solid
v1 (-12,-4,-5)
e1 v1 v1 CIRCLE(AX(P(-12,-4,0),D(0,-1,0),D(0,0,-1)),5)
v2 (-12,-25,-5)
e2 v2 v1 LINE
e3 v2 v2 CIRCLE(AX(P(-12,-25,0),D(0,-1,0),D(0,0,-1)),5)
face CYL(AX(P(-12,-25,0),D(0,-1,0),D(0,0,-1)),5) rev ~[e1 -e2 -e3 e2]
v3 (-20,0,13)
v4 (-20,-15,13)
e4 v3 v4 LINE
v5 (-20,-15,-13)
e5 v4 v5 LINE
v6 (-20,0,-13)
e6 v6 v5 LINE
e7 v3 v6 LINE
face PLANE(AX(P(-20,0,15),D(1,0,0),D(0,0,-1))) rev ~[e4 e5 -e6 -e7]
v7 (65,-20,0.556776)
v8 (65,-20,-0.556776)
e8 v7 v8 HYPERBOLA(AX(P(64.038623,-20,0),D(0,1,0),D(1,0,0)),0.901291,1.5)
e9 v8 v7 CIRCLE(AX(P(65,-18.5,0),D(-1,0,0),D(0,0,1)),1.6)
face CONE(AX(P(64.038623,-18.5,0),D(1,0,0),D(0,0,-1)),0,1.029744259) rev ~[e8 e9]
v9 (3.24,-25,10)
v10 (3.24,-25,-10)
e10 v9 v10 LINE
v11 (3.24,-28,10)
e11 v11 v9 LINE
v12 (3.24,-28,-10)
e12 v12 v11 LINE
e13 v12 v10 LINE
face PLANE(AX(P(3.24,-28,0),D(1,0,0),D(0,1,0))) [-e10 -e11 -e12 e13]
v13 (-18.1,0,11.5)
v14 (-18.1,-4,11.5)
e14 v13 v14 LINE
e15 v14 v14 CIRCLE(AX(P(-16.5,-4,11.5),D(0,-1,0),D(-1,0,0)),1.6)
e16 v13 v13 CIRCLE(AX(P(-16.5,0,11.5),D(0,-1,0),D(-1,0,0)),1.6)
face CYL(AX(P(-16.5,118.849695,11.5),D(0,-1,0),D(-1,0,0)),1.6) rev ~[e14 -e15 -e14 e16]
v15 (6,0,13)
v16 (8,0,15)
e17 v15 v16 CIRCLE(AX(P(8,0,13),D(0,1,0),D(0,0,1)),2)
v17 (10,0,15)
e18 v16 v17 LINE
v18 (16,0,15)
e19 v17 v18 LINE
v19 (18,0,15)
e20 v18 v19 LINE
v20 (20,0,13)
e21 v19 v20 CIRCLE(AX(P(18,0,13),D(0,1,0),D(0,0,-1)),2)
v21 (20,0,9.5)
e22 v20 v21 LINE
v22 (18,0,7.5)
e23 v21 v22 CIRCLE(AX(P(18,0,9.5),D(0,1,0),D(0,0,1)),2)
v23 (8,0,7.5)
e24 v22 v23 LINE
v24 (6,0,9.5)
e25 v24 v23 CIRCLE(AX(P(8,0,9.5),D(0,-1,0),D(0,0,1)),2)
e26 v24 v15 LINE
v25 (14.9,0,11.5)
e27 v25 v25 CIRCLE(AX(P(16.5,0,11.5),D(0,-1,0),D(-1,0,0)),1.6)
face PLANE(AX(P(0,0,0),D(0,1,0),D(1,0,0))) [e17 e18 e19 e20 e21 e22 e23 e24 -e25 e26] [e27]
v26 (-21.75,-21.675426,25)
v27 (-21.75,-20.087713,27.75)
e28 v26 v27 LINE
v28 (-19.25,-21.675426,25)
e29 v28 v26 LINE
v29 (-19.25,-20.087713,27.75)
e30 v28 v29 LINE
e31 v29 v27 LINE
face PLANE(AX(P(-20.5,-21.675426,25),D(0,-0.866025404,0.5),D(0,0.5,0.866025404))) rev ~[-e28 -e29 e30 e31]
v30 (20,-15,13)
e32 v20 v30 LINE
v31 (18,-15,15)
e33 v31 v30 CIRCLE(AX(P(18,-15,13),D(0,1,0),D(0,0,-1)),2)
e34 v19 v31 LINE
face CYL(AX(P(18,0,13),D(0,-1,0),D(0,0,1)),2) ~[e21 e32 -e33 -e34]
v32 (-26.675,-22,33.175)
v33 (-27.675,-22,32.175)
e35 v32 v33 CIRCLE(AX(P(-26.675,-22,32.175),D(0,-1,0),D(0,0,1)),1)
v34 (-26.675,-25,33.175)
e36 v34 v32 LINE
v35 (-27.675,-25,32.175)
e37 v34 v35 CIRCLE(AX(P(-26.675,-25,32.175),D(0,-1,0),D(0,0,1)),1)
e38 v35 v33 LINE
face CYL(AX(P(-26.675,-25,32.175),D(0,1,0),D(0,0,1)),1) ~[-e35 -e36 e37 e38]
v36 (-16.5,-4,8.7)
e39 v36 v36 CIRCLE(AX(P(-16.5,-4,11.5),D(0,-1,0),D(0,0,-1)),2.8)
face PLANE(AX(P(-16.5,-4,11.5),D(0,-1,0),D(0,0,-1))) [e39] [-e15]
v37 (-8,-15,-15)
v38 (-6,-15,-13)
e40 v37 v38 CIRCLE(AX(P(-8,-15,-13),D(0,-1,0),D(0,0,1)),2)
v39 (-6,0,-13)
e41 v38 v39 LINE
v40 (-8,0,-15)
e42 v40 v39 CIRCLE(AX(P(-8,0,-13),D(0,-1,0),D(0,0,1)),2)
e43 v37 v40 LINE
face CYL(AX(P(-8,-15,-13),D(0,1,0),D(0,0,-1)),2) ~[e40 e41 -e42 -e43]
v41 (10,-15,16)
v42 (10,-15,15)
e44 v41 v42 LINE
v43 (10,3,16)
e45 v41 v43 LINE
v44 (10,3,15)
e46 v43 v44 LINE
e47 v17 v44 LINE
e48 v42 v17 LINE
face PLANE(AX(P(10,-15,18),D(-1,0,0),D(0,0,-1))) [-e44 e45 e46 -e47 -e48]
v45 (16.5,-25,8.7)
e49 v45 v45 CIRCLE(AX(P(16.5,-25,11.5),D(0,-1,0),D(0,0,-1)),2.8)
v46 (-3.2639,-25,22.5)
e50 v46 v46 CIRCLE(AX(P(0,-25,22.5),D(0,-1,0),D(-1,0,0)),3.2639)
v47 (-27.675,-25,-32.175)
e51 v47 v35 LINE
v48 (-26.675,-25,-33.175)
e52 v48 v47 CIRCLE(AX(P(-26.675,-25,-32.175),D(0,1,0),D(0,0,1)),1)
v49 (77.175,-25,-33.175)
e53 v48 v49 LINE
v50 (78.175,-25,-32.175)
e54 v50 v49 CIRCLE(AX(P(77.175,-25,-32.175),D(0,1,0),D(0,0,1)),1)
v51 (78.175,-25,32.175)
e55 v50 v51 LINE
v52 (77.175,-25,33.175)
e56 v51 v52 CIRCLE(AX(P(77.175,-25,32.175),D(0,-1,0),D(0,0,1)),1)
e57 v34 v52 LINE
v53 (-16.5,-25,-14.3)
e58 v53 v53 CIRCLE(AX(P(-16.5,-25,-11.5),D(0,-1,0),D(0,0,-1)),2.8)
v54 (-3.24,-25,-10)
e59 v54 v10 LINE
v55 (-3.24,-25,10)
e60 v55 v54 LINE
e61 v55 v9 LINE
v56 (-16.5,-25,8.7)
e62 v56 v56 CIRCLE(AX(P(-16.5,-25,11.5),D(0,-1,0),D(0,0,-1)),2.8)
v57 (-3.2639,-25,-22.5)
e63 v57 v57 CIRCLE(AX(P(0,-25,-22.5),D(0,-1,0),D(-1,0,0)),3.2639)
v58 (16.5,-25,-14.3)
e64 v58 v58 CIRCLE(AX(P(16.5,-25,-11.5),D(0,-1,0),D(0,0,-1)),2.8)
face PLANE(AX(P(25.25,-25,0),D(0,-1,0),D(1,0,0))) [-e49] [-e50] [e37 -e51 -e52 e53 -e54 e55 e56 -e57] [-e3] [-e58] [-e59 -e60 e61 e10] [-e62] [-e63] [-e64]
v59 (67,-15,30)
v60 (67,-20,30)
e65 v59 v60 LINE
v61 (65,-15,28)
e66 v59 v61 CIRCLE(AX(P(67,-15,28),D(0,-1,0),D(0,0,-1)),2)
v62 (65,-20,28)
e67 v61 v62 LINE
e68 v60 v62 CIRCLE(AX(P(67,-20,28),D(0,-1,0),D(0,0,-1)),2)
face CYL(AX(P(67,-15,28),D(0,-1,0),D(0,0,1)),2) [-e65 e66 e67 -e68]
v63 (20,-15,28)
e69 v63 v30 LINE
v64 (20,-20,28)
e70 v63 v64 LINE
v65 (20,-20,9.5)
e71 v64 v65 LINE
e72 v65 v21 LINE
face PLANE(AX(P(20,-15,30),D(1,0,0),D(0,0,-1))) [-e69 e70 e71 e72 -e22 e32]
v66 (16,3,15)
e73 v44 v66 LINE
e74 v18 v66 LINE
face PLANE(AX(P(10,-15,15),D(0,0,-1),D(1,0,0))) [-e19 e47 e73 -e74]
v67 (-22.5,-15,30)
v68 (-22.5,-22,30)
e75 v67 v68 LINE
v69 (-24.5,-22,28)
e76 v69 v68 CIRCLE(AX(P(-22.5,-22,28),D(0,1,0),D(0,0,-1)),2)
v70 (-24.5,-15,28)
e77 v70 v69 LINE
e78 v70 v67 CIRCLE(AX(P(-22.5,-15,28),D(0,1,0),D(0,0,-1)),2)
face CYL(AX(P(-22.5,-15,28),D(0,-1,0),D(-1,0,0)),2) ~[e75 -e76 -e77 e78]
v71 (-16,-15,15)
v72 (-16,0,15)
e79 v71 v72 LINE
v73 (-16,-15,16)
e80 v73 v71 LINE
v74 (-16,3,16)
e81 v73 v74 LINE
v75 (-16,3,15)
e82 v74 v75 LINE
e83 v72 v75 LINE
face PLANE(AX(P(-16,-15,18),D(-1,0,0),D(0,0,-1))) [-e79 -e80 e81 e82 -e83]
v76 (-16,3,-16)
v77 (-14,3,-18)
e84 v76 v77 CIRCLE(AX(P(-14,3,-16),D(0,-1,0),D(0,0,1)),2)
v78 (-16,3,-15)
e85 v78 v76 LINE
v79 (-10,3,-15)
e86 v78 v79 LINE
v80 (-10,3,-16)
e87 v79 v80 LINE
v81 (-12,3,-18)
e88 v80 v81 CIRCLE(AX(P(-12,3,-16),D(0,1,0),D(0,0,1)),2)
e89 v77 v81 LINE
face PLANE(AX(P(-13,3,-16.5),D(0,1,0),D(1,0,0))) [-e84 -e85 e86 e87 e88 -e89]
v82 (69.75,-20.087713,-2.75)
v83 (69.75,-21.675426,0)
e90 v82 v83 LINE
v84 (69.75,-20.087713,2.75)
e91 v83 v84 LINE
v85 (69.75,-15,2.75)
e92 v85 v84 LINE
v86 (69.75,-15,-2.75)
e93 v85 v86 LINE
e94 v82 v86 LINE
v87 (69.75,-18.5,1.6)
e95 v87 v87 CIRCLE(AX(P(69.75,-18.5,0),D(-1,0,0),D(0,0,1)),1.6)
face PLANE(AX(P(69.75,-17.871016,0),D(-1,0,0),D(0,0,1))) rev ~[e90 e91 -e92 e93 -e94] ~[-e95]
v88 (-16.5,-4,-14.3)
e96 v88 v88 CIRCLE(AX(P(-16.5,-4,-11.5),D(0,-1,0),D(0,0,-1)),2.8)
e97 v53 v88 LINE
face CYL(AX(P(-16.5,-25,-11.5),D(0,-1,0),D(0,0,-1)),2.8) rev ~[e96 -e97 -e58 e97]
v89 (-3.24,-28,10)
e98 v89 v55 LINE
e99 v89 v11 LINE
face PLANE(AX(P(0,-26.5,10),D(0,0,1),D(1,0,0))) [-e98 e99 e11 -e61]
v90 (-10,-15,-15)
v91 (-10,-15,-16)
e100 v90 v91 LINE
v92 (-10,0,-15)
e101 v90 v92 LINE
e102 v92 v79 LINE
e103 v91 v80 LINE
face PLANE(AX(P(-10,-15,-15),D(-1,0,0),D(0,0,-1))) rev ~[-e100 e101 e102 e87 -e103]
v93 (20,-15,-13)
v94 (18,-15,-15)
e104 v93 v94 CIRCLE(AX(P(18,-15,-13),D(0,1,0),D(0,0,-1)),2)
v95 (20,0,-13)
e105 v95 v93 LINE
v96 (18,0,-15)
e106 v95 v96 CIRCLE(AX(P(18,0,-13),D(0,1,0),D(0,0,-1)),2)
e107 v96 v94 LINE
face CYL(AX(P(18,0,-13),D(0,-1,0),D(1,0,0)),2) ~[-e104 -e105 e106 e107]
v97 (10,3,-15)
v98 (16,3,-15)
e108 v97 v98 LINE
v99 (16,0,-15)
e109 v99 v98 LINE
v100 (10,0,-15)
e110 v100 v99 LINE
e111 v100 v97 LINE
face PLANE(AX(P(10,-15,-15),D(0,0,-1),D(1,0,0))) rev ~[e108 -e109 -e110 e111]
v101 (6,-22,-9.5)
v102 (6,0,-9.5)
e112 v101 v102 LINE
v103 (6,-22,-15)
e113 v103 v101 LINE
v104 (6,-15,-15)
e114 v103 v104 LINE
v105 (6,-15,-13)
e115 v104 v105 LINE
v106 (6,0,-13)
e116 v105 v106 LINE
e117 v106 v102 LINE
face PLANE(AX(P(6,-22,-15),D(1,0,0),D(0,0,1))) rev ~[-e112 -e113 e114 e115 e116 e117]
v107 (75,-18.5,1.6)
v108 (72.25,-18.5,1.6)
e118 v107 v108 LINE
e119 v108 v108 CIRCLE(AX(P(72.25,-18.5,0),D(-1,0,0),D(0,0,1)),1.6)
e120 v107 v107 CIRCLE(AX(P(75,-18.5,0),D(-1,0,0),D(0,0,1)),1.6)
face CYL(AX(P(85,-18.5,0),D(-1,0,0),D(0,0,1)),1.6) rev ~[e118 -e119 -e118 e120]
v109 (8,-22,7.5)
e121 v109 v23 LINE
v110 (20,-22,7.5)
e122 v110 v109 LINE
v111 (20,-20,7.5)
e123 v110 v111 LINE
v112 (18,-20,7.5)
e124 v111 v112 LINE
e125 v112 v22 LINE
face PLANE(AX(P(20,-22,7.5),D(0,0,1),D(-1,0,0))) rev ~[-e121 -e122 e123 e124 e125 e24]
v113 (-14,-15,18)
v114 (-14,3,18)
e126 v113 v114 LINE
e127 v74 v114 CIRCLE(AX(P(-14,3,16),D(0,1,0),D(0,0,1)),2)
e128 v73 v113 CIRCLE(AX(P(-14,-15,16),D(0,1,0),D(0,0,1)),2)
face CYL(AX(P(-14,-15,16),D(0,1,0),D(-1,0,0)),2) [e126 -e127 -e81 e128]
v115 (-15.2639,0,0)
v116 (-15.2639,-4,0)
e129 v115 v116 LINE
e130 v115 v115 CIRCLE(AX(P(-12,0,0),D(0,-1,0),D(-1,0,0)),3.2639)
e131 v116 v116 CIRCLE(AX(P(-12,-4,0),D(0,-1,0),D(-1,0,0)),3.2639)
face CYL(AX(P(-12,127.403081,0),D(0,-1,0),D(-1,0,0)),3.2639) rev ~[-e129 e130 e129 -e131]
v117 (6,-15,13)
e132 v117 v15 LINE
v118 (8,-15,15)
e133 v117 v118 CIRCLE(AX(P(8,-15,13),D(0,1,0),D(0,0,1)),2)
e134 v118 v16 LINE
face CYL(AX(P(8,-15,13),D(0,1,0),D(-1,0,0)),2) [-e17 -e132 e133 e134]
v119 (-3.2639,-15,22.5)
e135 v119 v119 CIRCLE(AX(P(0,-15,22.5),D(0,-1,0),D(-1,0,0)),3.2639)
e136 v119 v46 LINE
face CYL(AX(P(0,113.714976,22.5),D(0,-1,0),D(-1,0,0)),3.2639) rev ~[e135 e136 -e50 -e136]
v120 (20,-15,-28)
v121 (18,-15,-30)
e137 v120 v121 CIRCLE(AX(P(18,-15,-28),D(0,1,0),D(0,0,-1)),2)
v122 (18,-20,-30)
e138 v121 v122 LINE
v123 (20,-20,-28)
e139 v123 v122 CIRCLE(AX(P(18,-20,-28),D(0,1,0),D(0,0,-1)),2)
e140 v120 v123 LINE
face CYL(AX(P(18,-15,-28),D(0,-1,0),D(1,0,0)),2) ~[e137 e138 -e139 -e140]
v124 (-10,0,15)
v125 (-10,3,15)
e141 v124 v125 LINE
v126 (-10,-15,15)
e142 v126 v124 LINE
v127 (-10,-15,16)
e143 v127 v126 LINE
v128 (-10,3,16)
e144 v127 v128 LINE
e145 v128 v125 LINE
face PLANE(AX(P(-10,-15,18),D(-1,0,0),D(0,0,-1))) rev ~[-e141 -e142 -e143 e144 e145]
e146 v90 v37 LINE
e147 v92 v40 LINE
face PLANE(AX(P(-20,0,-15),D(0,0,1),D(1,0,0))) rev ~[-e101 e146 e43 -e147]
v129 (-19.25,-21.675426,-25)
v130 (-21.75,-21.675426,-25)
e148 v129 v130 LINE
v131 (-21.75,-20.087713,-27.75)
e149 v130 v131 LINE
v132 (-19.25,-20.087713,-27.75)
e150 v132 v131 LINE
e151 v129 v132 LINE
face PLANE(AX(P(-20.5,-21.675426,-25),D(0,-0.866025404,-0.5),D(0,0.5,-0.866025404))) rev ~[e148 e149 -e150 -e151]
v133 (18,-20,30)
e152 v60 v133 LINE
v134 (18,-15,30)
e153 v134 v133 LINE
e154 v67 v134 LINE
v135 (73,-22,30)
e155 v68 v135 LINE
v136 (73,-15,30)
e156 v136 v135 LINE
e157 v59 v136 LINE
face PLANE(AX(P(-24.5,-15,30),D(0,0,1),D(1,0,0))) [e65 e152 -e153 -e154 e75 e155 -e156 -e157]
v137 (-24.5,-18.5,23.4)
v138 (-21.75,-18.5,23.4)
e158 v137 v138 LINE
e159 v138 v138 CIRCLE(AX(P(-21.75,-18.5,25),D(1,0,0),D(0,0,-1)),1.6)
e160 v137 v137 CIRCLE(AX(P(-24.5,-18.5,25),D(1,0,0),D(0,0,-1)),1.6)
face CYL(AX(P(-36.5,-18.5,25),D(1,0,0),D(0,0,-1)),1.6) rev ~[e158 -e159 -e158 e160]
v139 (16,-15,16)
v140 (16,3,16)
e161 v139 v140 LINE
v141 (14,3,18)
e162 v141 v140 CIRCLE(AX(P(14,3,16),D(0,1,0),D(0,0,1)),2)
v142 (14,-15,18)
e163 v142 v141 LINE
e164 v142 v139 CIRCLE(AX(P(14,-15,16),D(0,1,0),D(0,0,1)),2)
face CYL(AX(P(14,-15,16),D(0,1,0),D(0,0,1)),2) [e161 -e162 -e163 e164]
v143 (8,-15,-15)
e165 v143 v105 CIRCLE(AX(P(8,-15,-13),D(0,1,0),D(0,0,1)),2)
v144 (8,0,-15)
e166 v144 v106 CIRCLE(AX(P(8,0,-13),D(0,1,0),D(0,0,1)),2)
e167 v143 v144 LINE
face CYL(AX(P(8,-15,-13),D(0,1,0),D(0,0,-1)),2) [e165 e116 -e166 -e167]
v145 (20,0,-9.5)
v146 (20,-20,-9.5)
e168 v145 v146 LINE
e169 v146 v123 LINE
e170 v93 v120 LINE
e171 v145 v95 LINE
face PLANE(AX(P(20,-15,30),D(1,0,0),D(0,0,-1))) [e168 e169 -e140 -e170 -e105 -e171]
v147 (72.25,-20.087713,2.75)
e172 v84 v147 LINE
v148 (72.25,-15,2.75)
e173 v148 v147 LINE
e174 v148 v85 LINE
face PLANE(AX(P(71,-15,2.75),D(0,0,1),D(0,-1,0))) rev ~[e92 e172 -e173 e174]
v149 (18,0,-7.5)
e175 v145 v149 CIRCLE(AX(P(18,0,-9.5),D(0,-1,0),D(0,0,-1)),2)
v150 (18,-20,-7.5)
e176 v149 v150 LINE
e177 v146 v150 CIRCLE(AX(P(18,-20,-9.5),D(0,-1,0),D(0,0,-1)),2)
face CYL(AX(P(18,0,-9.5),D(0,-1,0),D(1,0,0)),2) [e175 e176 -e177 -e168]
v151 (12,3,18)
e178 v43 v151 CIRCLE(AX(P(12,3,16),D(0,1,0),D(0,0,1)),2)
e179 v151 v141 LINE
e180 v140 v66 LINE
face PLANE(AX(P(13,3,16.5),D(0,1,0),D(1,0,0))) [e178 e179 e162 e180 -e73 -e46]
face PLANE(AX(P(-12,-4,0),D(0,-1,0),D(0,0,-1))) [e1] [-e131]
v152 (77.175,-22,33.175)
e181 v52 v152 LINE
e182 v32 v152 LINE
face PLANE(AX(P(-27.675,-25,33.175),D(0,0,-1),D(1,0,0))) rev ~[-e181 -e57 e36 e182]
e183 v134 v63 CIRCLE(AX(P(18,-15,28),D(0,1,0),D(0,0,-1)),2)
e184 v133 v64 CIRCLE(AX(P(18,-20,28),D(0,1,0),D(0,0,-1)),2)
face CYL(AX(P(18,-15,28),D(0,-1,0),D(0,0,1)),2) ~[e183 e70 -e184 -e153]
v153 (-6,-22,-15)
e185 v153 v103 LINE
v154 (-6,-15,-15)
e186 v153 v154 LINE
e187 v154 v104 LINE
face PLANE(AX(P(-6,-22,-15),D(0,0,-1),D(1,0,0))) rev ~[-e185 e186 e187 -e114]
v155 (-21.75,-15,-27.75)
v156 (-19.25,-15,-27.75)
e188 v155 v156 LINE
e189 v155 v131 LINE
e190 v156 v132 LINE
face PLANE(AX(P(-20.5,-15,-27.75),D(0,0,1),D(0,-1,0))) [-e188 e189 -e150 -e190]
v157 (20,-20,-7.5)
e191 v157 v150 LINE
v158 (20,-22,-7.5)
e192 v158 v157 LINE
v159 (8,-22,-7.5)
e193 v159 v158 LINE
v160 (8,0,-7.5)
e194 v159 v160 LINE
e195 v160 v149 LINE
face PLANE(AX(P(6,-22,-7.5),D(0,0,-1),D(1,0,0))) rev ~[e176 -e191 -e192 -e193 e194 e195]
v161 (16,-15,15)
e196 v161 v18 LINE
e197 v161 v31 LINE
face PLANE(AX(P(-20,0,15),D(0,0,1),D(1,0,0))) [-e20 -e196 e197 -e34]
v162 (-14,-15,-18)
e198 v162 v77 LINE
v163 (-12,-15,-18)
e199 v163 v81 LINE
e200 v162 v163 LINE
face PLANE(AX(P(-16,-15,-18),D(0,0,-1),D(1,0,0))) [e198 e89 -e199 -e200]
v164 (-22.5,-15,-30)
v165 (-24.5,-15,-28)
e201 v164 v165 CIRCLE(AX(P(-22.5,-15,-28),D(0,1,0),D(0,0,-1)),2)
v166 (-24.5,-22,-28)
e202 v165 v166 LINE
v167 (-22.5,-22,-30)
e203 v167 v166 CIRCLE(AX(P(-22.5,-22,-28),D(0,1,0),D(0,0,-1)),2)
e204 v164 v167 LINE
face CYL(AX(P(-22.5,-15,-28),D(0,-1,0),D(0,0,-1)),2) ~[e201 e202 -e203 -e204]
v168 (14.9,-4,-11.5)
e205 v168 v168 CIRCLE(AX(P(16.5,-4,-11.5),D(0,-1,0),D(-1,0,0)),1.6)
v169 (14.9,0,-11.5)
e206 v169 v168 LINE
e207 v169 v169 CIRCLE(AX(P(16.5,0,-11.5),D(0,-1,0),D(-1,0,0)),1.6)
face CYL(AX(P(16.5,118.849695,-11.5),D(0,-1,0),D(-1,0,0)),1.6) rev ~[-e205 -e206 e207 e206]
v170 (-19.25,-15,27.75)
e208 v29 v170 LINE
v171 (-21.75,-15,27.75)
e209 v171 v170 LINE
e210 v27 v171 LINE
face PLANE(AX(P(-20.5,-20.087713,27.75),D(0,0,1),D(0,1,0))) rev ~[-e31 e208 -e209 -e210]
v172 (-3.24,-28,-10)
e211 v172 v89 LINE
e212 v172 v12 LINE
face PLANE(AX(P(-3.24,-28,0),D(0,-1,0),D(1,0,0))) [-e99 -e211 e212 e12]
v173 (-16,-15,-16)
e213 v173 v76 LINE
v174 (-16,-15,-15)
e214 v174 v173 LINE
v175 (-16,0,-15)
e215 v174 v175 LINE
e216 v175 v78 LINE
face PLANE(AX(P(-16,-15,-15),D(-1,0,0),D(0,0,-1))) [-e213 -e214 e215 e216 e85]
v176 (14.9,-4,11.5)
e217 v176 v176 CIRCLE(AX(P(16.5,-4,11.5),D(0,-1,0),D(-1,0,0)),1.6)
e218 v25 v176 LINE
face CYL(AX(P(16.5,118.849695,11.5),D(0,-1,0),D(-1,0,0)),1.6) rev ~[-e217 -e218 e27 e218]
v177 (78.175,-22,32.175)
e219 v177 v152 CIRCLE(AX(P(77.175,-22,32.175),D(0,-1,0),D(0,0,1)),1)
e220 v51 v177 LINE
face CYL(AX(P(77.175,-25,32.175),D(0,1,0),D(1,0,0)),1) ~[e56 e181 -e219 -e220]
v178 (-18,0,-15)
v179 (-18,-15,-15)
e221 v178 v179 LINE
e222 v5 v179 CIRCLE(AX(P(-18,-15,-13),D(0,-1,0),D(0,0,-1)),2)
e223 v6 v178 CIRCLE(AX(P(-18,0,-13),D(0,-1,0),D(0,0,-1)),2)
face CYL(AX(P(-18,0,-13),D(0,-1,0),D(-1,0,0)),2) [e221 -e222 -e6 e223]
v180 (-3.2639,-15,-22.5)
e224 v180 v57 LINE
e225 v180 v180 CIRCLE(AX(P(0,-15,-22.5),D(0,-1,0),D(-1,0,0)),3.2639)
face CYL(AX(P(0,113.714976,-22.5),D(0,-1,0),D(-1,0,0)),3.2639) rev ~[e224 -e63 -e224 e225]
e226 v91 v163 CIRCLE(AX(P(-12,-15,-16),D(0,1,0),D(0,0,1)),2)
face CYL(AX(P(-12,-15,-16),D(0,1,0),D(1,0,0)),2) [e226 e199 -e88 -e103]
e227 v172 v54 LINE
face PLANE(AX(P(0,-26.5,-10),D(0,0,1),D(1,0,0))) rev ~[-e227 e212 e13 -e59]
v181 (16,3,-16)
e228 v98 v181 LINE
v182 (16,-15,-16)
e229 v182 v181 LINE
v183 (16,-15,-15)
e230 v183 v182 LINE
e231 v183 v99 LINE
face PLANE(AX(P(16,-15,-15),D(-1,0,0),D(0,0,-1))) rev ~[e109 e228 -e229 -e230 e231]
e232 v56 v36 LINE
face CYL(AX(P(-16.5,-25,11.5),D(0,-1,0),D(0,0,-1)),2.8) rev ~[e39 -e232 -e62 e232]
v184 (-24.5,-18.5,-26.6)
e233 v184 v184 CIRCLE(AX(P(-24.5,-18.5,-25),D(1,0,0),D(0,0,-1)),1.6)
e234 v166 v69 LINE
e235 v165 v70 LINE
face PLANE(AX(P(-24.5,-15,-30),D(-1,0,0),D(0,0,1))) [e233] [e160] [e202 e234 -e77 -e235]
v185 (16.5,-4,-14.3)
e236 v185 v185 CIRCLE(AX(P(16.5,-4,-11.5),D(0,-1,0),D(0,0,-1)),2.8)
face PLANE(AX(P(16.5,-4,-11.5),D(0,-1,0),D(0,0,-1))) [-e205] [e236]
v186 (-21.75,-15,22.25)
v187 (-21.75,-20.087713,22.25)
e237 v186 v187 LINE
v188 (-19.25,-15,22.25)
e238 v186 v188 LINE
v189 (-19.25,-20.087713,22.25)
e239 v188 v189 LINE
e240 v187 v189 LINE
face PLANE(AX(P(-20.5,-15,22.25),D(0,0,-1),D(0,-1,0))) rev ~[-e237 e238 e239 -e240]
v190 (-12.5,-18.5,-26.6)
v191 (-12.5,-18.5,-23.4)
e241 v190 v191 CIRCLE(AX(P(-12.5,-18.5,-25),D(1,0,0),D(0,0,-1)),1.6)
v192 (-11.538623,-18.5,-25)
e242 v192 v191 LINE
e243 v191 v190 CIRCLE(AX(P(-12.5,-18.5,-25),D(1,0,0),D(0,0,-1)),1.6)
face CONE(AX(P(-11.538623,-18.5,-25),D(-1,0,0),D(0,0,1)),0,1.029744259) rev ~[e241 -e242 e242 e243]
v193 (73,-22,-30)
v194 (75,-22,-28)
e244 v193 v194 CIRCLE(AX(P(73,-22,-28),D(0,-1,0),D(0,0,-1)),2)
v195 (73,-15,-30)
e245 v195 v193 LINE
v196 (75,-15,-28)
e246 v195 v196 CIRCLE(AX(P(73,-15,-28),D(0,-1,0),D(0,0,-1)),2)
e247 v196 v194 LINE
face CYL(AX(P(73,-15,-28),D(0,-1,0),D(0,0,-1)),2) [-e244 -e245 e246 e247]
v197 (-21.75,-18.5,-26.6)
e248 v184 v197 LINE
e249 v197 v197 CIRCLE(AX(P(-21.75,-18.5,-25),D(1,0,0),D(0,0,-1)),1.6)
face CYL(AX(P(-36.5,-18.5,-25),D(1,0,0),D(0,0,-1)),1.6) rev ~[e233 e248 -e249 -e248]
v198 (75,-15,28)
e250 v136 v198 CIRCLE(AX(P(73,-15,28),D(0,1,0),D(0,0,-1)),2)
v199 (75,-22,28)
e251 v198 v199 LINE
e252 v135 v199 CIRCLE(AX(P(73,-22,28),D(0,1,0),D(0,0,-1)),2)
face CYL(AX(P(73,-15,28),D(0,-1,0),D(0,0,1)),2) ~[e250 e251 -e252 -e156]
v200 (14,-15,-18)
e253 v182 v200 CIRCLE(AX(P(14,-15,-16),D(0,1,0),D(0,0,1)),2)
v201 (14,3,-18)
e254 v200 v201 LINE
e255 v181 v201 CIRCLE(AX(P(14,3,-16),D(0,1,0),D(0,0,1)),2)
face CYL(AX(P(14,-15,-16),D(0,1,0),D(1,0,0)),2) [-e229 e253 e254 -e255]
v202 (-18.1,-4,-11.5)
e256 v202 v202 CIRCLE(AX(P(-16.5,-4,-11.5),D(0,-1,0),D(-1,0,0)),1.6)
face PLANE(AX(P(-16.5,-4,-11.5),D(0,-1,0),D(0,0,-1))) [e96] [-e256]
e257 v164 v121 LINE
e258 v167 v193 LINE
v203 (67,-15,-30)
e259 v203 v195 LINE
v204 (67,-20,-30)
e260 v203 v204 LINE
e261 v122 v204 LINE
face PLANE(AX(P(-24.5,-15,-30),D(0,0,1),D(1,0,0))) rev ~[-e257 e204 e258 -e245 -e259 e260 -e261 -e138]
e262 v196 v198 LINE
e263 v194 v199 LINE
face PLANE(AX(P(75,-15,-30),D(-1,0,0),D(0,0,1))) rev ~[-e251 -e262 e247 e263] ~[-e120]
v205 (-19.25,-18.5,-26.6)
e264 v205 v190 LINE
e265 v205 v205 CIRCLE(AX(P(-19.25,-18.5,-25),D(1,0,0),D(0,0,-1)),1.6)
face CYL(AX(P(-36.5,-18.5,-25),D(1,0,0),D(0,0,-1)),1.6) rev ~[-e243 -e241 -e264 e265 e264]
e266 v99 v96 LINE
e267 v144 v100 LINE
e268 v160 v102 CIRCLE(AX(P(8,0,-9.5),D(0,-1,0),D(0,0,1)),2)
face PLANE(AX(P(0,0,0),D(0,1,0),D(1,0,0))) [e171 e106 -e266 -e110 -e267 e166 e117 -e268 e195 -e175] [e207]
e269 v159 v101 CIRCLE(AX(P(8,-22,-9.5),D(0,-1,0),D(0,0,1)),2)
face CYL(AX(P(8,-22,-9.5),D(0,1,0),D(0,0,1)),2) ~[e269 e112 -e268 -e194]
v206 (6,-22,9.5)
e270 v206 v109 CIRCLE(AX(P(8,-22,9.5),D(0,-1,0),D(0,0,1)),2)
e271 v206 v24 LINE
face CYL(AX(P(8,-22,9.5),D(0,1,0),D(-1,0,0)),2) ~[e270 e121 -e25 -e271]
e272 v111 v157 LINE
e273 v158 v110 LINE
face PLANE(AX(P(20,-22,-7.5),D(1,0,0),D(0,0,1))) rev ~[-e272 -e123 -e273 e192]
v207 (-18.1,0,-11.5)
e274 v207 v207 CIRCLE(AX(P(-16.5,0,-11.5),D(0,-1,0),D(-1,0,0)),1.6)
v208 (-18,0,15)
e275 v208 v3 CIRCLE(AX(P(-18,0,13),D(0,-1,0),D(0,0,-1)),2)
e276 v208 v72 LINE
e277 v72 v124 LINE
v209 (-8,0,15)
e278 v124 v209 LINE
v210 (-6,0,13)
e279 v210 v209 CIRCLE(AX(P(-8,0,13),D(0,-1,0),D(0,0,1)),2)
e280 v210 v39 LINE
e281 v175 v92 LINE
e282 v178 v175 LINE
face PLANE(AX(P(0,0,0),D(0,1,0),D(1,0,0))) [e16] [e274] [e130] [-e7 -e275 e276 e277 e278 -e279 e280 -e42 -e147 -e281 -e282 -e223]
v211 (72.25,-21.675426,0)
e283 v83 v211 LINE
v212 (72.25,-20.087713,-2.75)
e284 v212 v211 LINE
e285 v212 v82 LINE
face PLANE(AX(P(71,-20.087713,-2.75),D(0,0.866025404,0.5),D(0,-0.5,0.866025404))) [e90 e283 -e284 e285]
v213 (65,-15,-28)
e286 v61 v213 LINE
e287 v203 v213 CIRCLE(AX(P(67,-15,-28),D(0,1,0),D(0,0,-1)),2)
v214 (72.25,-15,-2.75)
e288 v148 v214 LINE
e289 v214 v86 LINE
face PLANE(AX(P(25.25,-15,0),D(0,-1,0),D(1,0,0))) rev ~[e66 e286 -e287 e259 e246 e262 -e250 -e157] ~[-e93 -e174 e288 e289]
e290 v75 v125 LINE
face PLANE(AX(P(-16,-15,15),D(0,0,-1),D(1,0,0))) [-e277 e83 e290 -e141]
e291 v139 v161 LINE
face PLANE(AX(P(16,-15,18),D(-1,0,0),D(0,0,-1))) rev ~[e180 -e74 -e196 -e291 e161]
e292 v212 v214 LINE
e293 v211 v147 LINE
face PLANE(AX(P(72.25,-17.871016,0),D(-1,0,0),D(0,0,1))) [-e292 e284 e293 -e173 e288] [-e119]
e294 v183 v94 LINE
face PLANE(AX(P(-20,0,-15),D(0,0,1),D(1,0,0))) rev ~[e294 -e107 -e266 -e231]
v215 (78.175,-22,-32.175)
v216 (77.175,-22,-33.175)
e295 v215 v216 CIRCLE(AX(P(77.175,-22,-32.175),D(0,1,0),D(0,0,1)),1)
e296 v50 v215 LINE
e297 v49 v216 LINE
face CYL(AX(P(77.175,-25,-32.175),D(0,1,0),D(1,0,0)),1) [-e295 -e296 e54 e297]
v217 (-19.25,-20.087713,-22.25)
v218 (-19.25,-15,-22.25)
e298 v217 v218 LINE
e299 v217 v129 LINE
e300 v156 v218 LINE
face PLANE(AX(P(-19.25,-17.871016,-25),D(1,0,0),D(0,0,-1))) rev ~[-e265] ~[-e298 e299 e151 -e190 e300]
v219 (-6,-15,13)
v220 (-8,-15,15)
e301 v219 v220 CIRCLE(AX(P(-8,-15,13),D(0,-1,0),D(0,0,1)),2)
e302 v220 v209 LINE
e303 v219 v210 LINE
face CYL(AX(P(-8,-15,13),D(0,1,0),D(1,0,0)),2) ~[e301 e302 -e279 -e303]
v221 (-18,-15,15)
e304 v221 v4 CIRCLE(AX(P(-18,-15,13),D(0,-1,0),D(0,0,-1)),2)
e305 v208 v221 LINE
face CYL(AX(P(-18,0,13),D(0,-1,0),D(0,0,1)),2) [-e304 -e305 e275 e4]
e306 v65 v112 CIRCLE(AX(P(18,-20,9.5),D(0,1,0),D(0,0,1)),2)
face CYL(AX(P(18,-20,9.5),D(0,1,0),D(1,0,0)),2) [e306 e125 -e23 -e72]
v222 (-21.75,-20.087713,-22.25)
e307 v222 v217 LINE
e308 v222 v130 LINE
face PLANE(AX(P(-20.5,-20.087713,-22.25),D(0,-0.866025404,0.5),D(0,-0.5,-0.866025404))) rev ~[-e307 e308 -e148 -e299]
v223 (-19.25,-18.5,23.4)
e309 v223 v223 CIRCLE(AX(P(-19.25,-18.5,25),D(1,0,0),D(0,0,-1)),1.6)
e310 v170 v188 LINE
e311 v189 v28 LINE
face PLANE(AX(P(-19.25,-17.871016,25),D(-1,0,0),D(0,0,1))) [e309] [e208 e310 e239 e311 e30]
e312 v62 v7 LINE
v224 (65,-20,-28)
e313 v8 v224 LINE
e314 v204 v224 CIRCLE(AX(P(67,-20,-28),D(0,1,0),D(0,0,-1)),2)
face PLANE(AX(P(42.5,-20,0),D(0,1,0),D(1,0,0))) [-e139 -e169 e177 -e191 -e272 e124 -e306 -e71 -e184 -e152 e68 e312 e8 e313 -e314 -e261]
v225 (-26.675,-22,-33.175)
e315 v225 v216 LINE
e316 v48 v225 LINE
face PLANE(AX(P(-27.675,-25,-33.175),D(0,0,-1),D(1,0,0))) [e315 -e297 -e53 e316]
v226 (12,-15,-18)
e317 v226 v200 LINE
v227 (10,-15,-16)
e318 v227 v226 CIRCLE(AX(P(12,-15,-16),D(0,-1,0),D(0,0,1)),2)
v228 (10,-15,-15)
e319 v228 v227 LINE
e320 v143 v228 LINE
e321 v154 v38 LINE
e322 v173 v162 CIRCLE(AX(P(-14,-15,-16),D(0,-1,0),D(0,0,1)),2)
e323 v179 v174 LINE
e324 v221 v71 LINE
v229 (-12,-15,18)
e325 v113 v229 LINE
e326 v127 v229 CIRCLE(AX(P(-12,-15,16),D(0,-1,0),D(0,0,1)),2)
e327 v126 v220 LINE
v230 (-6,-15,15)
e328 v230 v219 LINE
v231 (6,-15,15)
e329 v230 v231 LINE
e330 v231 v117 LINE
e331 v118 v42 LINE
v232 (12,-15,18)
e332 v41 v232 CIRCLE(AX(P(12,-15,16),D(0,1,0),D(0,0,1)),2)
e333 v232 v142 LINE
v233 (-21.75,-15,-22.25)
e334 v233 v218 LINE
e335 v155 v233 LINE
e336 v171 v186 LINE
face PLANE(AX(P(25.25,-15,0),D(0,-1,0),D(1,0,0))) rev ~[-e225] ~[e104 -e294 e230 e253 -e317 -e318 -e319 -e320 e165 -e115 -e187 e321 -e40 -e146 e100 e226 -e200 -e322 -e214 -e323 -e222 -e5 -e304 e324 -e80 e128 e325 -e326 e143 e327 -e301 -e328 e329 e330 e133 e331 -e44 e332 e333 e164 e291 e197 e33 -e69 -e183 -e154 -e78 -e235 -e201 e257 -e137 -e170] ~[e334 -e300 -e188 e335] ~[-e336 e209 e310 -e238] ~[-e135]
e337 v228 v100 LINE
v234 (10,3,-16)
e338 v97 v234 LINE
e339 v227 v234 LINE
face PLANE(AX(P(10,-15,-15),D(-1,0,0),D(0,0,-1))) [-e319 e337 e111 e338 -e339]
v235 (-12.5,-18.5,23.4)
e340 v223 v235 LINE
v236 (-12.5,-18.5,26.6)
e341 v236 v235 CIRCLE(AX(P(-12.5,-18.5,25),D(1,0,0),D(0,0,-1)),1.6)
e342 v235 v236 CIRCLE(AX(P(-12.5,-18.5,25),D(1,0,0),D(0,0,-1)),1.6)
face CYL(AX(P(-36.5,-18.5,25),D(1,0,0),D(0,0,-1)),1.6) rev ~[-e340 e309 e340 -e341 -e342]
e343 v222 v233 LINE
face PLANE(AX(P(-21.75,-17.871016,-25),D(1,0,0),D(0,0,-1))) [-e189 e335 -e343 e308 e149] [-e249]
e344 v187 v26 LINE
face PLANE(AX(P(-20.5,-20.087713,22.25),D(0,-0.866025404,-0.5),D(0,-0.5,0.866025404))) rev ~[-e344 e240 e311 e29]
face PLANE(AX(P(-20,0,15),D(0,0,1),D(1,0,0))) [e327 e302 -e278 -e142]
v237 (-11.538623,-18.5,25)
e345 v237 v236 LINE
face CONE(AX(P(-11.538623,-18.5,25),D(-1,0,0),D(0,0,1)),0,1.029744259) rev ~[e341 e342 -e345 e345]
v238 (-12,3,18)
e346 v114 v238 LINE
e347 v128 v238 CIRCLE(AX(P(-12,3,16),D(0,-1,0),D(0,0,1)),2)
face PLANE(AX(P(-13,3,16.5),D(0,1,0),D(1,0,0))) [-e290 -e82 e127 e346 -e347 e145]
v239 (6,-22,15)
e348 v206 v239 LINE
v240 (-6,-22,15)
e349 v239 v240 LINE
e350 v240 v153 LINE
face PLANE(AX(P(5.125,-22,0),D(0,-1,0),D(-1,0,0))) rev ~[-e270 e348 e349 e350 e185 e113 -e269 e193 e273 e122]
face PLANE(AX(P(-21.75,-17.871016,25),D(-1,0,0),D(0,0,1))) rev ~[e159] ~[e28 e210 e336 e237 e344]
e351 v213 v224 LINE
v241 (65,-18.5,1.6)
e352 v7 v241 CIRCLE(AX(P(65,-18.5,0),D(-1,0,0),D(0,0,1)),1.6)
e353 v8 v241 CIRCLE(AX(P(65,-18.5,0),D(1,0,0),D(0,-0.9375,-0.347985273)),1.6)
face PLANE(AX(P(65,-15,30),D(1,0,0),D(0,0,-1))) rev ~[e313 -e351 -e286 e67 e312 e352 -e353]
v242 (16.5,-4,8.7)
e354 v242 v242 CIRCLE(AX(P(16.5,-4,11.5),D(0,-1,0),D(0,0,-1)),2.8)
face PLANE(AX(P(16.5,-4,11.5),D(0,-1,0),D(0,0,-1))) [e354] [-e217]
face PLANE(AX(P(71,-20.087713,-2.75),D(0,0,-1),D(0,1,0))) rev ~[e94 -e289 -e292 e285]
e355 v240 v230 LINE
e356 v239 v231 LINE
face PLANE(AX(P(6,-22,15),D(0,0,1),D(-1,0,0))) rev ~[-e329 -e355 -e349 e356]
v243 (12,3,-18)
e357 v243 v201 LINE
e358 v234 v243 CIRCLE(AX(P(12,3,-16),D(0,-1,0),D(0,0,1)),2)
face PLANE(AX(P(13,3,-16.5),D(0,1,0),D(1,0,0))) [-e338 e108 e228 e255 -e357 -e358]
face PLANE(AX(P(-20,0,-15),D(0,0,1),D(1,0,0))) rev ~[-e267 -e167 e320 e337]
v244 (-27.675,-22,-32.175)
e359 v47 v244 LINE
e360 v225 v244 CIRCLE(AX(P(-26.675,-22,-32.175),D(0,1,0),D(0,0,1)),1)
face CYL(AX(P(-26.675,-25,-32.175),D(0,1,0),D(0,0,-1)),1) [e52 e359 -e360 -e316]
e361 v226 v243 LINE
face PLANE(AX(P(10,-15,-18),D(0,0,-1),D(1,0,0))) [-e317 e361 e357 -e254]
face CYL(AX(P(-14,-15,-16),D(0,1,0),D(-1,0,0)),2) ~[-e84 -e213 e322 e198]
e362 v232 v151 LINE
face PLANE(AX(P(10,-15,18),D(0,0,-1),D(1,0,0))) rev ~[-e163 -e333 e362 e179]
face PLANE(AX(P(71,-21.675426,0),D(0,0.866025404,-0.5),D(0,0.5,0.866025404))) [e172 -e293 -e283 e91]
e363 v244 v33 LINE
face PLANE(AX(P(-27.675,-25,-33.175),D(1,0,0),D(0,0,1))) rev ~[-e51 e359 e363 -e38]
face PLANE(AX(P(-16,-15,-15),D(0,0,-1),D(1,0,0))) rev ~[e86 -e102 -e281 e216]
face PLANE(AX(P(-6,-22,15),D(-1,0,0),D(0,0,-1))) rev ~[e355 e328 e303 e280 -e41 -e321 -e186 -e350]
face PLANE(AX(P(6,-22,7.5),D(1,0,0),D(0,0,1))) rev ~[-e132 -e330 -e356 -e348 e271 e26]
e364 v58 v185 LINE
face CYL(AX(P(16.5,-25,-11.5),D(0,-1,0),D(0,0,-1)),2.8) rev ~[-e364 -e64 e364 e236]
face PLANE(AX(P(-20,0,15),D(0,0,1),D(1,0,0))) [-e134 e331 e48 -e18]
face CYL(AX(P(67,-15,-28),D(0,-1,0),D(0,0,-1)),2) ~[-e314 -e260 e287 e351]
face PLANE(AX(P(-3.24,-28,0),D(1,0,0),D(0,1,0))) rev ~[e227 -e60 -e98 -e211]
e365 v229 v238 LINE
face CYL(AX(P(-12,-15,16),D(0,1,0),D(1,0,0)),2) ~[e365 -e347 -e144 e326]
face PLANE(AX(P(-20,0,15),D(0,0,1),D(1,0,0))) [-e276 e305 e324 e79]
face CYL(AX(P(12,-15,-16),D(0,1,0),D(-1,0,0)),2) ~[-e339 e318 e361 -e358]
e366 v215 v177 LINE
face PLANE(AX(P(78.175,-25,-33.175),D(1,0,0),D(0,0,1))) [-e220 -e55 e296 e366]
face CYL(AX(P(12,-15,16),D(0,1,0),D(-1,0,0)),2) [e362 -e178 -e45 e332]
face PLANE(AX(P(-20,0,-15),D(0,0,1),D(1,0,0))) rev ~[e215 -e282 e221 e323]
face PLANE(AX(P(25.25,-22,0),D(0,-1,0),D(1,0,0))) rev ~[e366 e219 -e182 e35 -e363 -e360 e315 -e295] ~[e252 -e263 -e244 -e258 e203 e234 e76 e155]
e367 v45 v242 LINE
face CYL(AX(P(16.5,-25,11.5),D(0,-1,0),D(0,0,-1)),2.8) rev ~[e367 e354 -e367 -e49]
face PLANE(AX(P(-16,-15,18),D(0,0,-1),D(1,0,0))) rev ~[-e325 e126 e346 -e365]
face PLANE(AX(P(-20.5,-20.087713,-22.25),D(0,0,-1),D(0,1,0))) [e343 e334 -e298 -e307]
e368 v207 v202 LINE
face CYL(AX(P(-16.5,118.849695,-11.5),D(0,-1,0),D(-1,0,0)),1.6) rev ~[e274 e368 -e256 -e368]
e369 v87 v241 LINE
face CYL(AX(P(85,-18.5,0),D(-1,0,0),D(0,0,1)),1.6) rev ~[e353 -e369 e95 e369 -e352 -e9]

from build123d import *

# Parameters (mm, degrees)
SKETCH1_W                = 40
SKETCH1_H                = 30
BOSS_EXTRUDE1_DEPTH      = 15
SKETCH2_W                = 99.5
SKETCH2_H                = 60
BOSS_EXTRUDE2_DEPTH      = 10
M3_CLEARANCE_HOLE1_D     = 3.2
SKETCH7_W                = 105.85
SKETCH7_H                = 66.35
SKETCH7_W_2              = 99.5
SKETCH7_H_2              = 60
BOSS_EXTRUDE3_DEPTH      = 3
CUT_EXTRUDE2_DEPTH       = 1.25
M3_CLEARANCE_HOLE3_D     = 3.2
M3_CLEARANCE_HOLE3_DEPTH = 12
M3_CLEARANCE_HOLE3_TIP   = 0.96137699
F_1_4_CLEARANCE_HOLE3_D  = 6.5278
SKETCH20_R               = 2.8
SKETCH20_R_2             = 5
CUT_EXTRUDE4_DEPTH       = 21
SKETCH23_W               = 6.48
SKETCH23_H               = 3
BOSS_EXTRUDE5_DEPTH      = 10
SKETCH43_W               = 6
SKETCH43_H               = 3
BOSS_EXTRUDE7_DEPTH      = 18
F_1_4_CLEARANCE_HOLE2_D  = 6.5278
CUT_EXTRUDE9_START       = -22
CUT_EXTRUDE9_DEPTH       = 22
SKETCH45_W               = 45
SKETCH45_H               = 60
CUT_EXTRUDE10_DEPTH      = 5
CUT_EXTRUDE11_DEPTH      = 1.25
M3_CLEARANCE_HOLE5_D     = 3.2
M3_CLEARANCE_HOLE5_DEPTH = 10
M3_CLEARANCE_HOLE5_TIP   = 0.96137699
FILLET3_R                = 2
FILLET4_R                = 1


with BuildPart() as part:
    # Sketch1 → Boss-Extrude1 (new body)
    with BuildSketch(Plane(origin=(0, 0, 0), x_dir=(1, 0, 0), z_dir=(0, 1, 0))):
        Rectangle(SKETCH1_W, SKETCH1_H)
    extrude(amount=-BOSS_EXTRUDE1_DEPTH)

    # Sketch2 → Boss-Extrude2 (add)
    with BuildSketch(Plane.XZ.offset(15)):
        with Locations((25.25, 0)):
            Rectangle(SKETCH2_W, SKETCH2_H)
    extrude(amount=BOSS_EXTRUDE2_DEPTH)

    # M3 Clearance Hole1 (through all)
    with Locations(Plane(origin=(0, 0, 0), x_dir=(1, 0, 0), z_dir=(0, 1, 0))):
        with Locations((-16.5, 11.5), (16.5, 11.5), (-16.5, -11.5), (16.5, -11.5)):
            Hole(M3_CLEARANCE_HOLE1_D / 2)

    # Sketch7 → Boss-Extrude3 (add)
    with BuildSketch(Plane.XZ.offset(25)):
        with Locations((25.25, 0)):
            Rectangle(SKETCH7_W, SKETCH7_H)
        with Locations((25.25, 0)):
            Rectangle(SKETCH7_W_2, SKETCH7_H_2, mode=Mode.SUBTRACT)
    extrude(amount=-BOSS_EXTRUDE3_DEPTH)

    # Sketch14 → Cut-Extrude2 (cut, symmetric)
    with BuildSketch(Plane.ZY.offset(20.5)):
        Polygon((-27.75, -16.91228676), (-27.75, -15), (-22.25, -15), (-22.25, -16.91228676), (-22.25, -20.08771324), (-25, -21.675426481), (-27.75, -20.08771324), align=None)
        Polygon((22.25, -16.91228676), (22.25, -20.08771324), (25, -21.675426481), (27.75, -20.08771324), (27.75, -16.91228676), (27.75, -15), (22.25, -15), align=None)
    extrude(amount=CUT_EXTRUDE2_DEPTH, both=True, mode=Mode.SUBTRACT)

    # M3 Clearance Hole3
    with Locations(Plane.ZY.offset(24.5)):
        with Locations((-25, -18.5), (25, -18.5)):
            Hole(M3_CLEARANCE_HOLE3_D / 2, depth=M3_CLEARANCE_HOLE3_DEPTH)
            with Locations((0, 0, -(M3_CLEARANCE_HOLE3_DEPTH + M3_CLEARANCE_HOLE3_TIP / 2))):  # 118° drill point
                Cone(0, M3_CLEARANCE_HOLE3_D / 2, M3_CLEARANCE_HOLE3_TIP, mode=Mode.SUBTRACT)

    # 1/4 Clearance Hole3 (through all)
    with Locations(Plane(origin=(0, 0, 0), x_dir=(1, 0, 0), z_dir=(0, 1, 0))):
        with Locations((-12, 0)):
            Hole(F_1_4_CLEARANCE_HOLE3_D / 2)

    # Sketch20 → Cut-Extrude4 (cut)
    with BuildSketch(Plane.XZ.offset(25)):
        with Locations(Location((-16.5, 11.5, 0), (0, 0, 270))):
            Circle(SKETCH20_R)
        with Locations(Location((16.5, 11.5, 0), (0, 0, 270))):
            Circle(SKETCH20_R)
        with Locations(Location((16.5, -11.5, 0), (0, 0, 270))):
            Circle(SKETCH20_R)
        with Locations(Location((-16.5, -11.5, 0), (0, 0, 270))):
            Circle(SKETCH20_R)
        with Locations(Location((-12, 0, 0), (0, 0, 270))):
            Circle(SKETCH20_R_2)
    extrude(amount=-CUT_EXTRUDE4_DEPTH, mode=Mode.SUBTRACT)

    # Sketch23 → Boss-Extrude5 (add, symmetric)
    with BuildSketch(Plane.XY):
        with Locations((0, -26.5)):
            Rectangle(SKETCH23_W, SKETCH23_H)
    extrude(amount=BOSS_EXTRUDE5_DEPTH, both=True)

    # Sketch43 → Boss-Extrude7 (add)
    with BuildSketch(Plane(origin=(0, -15, 0), x_dir=(1, 0, 0), z_dir=(0, 1, 0))):
        with Locations((-13, 16.5)):
            Rectangle(SKETCH43_W, SKETCH43_H)
        with Locations((-13, -16.5)):
            Rectangle(SKETCH43_W, SKETCH43_H)
        with Locations((13, 16.5)):
            Rectangle(SKETCH43_W, SKETCH43_H)
        with Locations((13, -16.5)):
            Rectangle(SKETCH43_W, SKETCH43_H)
    extrude(amount=BOSS_EXTRUDE7_DEPTH)

    # 1/4 Clearance Hole2 (through all)
    with Locations(Plane(origin=(0, -15, 0), x_dir=(1, 0, 0), z_dir=(0, 1, 0))):
        with Locations((0, 22.5), (0, -22.5)):
            Hole(F_1_4_CLEARANCE_HOLE2_D / 2)

    # Sketch44 → Cut-Extrude9 (cut)
    with BuildSketch(Plane(origin=(0, 0, 0), x_dir=(1, 0, 0), z_dir=(0, 1, 0)).offset(CUT_EXTRUDE9_START)):
        Polygon((-6, 15), (6, 15), (6, 7.5), (20, 7.5), (20, -7.5), (6, -7.5), (6, -15), (-6, -15), align=None)
    extrude(amount=CUT_EXTRUDE9_DEPTH, mode=Mode.SUBTRACT)

    # Sketch45 → Cut-Extrude10 (cut)
    with BuildSketch(Plane(origin=(0, -15, 0), x_dir=(1, 0, 0), z_dir=(0, 1, 0))):
        with Locations((42.5, 0)):
            Rectangle(SKETCH45_W, SKETCH45_H)
    extrude(amount=-CUT_EXTRUDE10_DEPTH, mode=Mode.SUBTRACT)

    # Sketch46 → Cut-Extrude11 (cut, symmetric)
    with BuildSketch(Plane(origin=(71, 0, 0), x_dir=(0, 0, -1), z_dir=(1, 0, 0))):
        Polygon((-2.75, -16.91228676), (-2.75, -15), (2.75, -15), (2.75, -16.91228676), (2.75, -20.08771324), (0, -21.675426481), (-2.75, -20.08771324), align=None)
    extrude(amount=CUT_EXTRUDE11_DEPTH, both=True, mode=Mode.SUBTRACT)

    # M3 Clearance Hole5
    with Locations(Plane(origin=(75, 0, 0), x_dir=(0, 0, -1), z_dir=(1, 0, 0))):
        with Locations((0, -18.5)):
            Hole(M3_CLEARANCE_HOLE5_D / 2, depth=M3_CLEARANCE_HOLE5_DEPTH)
            with Locations((0, 0, -(M3_CLEARANCE_HOLE5_DEPTH + M3_CLEARANCE_HOLE5_TIP / 2))):  # 118° drill point
                Cone(0, M3_CLEARANCE_HOLE5_D / 2, M3_CLEARANCE_HOLE5_TIP, mode=Mode.SUBTRACT)

    # Fillet3
    fillet3_edges = [part.edges().sort_by_distance(p)[0] for p in [
        (-10, -6, -18),
        (-16, -6, -18),
        (-10, -6, 18),
        (-16, -6, 18),
        (10, -6, 18),
        (16, -6, 18),
        (10, -6, -18),
        (16, -6, -18),
        (6, -7.5, 15),
        (6, -11, 7.5),
        (20, -10, 7.5),
        (20, -10, -7.5),
        (6, -11, -7.5),
        (6, -7.5, -15),
        (-6, -7.5, -15),
        (-6, -7.5, 15),
        (20, -17.5, 30),
        (65, -17.5, 30),
        (65, -17.5, -30),
        (20, -17.5, -30),
        (-24.5, -18.5, 30),
        (75, -18.5, 30),
        (75, -18.5, -30),
        (-24.5, -18.5, -30),
        (20, -7.5, 15),
        (-20, -7.5, 15),
        (-20, -7.5, -15),
        (20, -7.5, -15),
    ]]
    fillet(fillet3_edges, radius=FILLET3_R)

    # Fillet4
    fillet4_edges = [part.edges().sort_by_distance(p)[0] for p in [
        (-27.675, -23.5, 33.175),
        (78.175, -23.5, 33.175),
        (78.175, -23.5, -33.175),
        (-27.675, -23.5, -33.175),
    ]]
    fillet(fillet4_edges, radius=FILLET4_R)


solid = part.part
